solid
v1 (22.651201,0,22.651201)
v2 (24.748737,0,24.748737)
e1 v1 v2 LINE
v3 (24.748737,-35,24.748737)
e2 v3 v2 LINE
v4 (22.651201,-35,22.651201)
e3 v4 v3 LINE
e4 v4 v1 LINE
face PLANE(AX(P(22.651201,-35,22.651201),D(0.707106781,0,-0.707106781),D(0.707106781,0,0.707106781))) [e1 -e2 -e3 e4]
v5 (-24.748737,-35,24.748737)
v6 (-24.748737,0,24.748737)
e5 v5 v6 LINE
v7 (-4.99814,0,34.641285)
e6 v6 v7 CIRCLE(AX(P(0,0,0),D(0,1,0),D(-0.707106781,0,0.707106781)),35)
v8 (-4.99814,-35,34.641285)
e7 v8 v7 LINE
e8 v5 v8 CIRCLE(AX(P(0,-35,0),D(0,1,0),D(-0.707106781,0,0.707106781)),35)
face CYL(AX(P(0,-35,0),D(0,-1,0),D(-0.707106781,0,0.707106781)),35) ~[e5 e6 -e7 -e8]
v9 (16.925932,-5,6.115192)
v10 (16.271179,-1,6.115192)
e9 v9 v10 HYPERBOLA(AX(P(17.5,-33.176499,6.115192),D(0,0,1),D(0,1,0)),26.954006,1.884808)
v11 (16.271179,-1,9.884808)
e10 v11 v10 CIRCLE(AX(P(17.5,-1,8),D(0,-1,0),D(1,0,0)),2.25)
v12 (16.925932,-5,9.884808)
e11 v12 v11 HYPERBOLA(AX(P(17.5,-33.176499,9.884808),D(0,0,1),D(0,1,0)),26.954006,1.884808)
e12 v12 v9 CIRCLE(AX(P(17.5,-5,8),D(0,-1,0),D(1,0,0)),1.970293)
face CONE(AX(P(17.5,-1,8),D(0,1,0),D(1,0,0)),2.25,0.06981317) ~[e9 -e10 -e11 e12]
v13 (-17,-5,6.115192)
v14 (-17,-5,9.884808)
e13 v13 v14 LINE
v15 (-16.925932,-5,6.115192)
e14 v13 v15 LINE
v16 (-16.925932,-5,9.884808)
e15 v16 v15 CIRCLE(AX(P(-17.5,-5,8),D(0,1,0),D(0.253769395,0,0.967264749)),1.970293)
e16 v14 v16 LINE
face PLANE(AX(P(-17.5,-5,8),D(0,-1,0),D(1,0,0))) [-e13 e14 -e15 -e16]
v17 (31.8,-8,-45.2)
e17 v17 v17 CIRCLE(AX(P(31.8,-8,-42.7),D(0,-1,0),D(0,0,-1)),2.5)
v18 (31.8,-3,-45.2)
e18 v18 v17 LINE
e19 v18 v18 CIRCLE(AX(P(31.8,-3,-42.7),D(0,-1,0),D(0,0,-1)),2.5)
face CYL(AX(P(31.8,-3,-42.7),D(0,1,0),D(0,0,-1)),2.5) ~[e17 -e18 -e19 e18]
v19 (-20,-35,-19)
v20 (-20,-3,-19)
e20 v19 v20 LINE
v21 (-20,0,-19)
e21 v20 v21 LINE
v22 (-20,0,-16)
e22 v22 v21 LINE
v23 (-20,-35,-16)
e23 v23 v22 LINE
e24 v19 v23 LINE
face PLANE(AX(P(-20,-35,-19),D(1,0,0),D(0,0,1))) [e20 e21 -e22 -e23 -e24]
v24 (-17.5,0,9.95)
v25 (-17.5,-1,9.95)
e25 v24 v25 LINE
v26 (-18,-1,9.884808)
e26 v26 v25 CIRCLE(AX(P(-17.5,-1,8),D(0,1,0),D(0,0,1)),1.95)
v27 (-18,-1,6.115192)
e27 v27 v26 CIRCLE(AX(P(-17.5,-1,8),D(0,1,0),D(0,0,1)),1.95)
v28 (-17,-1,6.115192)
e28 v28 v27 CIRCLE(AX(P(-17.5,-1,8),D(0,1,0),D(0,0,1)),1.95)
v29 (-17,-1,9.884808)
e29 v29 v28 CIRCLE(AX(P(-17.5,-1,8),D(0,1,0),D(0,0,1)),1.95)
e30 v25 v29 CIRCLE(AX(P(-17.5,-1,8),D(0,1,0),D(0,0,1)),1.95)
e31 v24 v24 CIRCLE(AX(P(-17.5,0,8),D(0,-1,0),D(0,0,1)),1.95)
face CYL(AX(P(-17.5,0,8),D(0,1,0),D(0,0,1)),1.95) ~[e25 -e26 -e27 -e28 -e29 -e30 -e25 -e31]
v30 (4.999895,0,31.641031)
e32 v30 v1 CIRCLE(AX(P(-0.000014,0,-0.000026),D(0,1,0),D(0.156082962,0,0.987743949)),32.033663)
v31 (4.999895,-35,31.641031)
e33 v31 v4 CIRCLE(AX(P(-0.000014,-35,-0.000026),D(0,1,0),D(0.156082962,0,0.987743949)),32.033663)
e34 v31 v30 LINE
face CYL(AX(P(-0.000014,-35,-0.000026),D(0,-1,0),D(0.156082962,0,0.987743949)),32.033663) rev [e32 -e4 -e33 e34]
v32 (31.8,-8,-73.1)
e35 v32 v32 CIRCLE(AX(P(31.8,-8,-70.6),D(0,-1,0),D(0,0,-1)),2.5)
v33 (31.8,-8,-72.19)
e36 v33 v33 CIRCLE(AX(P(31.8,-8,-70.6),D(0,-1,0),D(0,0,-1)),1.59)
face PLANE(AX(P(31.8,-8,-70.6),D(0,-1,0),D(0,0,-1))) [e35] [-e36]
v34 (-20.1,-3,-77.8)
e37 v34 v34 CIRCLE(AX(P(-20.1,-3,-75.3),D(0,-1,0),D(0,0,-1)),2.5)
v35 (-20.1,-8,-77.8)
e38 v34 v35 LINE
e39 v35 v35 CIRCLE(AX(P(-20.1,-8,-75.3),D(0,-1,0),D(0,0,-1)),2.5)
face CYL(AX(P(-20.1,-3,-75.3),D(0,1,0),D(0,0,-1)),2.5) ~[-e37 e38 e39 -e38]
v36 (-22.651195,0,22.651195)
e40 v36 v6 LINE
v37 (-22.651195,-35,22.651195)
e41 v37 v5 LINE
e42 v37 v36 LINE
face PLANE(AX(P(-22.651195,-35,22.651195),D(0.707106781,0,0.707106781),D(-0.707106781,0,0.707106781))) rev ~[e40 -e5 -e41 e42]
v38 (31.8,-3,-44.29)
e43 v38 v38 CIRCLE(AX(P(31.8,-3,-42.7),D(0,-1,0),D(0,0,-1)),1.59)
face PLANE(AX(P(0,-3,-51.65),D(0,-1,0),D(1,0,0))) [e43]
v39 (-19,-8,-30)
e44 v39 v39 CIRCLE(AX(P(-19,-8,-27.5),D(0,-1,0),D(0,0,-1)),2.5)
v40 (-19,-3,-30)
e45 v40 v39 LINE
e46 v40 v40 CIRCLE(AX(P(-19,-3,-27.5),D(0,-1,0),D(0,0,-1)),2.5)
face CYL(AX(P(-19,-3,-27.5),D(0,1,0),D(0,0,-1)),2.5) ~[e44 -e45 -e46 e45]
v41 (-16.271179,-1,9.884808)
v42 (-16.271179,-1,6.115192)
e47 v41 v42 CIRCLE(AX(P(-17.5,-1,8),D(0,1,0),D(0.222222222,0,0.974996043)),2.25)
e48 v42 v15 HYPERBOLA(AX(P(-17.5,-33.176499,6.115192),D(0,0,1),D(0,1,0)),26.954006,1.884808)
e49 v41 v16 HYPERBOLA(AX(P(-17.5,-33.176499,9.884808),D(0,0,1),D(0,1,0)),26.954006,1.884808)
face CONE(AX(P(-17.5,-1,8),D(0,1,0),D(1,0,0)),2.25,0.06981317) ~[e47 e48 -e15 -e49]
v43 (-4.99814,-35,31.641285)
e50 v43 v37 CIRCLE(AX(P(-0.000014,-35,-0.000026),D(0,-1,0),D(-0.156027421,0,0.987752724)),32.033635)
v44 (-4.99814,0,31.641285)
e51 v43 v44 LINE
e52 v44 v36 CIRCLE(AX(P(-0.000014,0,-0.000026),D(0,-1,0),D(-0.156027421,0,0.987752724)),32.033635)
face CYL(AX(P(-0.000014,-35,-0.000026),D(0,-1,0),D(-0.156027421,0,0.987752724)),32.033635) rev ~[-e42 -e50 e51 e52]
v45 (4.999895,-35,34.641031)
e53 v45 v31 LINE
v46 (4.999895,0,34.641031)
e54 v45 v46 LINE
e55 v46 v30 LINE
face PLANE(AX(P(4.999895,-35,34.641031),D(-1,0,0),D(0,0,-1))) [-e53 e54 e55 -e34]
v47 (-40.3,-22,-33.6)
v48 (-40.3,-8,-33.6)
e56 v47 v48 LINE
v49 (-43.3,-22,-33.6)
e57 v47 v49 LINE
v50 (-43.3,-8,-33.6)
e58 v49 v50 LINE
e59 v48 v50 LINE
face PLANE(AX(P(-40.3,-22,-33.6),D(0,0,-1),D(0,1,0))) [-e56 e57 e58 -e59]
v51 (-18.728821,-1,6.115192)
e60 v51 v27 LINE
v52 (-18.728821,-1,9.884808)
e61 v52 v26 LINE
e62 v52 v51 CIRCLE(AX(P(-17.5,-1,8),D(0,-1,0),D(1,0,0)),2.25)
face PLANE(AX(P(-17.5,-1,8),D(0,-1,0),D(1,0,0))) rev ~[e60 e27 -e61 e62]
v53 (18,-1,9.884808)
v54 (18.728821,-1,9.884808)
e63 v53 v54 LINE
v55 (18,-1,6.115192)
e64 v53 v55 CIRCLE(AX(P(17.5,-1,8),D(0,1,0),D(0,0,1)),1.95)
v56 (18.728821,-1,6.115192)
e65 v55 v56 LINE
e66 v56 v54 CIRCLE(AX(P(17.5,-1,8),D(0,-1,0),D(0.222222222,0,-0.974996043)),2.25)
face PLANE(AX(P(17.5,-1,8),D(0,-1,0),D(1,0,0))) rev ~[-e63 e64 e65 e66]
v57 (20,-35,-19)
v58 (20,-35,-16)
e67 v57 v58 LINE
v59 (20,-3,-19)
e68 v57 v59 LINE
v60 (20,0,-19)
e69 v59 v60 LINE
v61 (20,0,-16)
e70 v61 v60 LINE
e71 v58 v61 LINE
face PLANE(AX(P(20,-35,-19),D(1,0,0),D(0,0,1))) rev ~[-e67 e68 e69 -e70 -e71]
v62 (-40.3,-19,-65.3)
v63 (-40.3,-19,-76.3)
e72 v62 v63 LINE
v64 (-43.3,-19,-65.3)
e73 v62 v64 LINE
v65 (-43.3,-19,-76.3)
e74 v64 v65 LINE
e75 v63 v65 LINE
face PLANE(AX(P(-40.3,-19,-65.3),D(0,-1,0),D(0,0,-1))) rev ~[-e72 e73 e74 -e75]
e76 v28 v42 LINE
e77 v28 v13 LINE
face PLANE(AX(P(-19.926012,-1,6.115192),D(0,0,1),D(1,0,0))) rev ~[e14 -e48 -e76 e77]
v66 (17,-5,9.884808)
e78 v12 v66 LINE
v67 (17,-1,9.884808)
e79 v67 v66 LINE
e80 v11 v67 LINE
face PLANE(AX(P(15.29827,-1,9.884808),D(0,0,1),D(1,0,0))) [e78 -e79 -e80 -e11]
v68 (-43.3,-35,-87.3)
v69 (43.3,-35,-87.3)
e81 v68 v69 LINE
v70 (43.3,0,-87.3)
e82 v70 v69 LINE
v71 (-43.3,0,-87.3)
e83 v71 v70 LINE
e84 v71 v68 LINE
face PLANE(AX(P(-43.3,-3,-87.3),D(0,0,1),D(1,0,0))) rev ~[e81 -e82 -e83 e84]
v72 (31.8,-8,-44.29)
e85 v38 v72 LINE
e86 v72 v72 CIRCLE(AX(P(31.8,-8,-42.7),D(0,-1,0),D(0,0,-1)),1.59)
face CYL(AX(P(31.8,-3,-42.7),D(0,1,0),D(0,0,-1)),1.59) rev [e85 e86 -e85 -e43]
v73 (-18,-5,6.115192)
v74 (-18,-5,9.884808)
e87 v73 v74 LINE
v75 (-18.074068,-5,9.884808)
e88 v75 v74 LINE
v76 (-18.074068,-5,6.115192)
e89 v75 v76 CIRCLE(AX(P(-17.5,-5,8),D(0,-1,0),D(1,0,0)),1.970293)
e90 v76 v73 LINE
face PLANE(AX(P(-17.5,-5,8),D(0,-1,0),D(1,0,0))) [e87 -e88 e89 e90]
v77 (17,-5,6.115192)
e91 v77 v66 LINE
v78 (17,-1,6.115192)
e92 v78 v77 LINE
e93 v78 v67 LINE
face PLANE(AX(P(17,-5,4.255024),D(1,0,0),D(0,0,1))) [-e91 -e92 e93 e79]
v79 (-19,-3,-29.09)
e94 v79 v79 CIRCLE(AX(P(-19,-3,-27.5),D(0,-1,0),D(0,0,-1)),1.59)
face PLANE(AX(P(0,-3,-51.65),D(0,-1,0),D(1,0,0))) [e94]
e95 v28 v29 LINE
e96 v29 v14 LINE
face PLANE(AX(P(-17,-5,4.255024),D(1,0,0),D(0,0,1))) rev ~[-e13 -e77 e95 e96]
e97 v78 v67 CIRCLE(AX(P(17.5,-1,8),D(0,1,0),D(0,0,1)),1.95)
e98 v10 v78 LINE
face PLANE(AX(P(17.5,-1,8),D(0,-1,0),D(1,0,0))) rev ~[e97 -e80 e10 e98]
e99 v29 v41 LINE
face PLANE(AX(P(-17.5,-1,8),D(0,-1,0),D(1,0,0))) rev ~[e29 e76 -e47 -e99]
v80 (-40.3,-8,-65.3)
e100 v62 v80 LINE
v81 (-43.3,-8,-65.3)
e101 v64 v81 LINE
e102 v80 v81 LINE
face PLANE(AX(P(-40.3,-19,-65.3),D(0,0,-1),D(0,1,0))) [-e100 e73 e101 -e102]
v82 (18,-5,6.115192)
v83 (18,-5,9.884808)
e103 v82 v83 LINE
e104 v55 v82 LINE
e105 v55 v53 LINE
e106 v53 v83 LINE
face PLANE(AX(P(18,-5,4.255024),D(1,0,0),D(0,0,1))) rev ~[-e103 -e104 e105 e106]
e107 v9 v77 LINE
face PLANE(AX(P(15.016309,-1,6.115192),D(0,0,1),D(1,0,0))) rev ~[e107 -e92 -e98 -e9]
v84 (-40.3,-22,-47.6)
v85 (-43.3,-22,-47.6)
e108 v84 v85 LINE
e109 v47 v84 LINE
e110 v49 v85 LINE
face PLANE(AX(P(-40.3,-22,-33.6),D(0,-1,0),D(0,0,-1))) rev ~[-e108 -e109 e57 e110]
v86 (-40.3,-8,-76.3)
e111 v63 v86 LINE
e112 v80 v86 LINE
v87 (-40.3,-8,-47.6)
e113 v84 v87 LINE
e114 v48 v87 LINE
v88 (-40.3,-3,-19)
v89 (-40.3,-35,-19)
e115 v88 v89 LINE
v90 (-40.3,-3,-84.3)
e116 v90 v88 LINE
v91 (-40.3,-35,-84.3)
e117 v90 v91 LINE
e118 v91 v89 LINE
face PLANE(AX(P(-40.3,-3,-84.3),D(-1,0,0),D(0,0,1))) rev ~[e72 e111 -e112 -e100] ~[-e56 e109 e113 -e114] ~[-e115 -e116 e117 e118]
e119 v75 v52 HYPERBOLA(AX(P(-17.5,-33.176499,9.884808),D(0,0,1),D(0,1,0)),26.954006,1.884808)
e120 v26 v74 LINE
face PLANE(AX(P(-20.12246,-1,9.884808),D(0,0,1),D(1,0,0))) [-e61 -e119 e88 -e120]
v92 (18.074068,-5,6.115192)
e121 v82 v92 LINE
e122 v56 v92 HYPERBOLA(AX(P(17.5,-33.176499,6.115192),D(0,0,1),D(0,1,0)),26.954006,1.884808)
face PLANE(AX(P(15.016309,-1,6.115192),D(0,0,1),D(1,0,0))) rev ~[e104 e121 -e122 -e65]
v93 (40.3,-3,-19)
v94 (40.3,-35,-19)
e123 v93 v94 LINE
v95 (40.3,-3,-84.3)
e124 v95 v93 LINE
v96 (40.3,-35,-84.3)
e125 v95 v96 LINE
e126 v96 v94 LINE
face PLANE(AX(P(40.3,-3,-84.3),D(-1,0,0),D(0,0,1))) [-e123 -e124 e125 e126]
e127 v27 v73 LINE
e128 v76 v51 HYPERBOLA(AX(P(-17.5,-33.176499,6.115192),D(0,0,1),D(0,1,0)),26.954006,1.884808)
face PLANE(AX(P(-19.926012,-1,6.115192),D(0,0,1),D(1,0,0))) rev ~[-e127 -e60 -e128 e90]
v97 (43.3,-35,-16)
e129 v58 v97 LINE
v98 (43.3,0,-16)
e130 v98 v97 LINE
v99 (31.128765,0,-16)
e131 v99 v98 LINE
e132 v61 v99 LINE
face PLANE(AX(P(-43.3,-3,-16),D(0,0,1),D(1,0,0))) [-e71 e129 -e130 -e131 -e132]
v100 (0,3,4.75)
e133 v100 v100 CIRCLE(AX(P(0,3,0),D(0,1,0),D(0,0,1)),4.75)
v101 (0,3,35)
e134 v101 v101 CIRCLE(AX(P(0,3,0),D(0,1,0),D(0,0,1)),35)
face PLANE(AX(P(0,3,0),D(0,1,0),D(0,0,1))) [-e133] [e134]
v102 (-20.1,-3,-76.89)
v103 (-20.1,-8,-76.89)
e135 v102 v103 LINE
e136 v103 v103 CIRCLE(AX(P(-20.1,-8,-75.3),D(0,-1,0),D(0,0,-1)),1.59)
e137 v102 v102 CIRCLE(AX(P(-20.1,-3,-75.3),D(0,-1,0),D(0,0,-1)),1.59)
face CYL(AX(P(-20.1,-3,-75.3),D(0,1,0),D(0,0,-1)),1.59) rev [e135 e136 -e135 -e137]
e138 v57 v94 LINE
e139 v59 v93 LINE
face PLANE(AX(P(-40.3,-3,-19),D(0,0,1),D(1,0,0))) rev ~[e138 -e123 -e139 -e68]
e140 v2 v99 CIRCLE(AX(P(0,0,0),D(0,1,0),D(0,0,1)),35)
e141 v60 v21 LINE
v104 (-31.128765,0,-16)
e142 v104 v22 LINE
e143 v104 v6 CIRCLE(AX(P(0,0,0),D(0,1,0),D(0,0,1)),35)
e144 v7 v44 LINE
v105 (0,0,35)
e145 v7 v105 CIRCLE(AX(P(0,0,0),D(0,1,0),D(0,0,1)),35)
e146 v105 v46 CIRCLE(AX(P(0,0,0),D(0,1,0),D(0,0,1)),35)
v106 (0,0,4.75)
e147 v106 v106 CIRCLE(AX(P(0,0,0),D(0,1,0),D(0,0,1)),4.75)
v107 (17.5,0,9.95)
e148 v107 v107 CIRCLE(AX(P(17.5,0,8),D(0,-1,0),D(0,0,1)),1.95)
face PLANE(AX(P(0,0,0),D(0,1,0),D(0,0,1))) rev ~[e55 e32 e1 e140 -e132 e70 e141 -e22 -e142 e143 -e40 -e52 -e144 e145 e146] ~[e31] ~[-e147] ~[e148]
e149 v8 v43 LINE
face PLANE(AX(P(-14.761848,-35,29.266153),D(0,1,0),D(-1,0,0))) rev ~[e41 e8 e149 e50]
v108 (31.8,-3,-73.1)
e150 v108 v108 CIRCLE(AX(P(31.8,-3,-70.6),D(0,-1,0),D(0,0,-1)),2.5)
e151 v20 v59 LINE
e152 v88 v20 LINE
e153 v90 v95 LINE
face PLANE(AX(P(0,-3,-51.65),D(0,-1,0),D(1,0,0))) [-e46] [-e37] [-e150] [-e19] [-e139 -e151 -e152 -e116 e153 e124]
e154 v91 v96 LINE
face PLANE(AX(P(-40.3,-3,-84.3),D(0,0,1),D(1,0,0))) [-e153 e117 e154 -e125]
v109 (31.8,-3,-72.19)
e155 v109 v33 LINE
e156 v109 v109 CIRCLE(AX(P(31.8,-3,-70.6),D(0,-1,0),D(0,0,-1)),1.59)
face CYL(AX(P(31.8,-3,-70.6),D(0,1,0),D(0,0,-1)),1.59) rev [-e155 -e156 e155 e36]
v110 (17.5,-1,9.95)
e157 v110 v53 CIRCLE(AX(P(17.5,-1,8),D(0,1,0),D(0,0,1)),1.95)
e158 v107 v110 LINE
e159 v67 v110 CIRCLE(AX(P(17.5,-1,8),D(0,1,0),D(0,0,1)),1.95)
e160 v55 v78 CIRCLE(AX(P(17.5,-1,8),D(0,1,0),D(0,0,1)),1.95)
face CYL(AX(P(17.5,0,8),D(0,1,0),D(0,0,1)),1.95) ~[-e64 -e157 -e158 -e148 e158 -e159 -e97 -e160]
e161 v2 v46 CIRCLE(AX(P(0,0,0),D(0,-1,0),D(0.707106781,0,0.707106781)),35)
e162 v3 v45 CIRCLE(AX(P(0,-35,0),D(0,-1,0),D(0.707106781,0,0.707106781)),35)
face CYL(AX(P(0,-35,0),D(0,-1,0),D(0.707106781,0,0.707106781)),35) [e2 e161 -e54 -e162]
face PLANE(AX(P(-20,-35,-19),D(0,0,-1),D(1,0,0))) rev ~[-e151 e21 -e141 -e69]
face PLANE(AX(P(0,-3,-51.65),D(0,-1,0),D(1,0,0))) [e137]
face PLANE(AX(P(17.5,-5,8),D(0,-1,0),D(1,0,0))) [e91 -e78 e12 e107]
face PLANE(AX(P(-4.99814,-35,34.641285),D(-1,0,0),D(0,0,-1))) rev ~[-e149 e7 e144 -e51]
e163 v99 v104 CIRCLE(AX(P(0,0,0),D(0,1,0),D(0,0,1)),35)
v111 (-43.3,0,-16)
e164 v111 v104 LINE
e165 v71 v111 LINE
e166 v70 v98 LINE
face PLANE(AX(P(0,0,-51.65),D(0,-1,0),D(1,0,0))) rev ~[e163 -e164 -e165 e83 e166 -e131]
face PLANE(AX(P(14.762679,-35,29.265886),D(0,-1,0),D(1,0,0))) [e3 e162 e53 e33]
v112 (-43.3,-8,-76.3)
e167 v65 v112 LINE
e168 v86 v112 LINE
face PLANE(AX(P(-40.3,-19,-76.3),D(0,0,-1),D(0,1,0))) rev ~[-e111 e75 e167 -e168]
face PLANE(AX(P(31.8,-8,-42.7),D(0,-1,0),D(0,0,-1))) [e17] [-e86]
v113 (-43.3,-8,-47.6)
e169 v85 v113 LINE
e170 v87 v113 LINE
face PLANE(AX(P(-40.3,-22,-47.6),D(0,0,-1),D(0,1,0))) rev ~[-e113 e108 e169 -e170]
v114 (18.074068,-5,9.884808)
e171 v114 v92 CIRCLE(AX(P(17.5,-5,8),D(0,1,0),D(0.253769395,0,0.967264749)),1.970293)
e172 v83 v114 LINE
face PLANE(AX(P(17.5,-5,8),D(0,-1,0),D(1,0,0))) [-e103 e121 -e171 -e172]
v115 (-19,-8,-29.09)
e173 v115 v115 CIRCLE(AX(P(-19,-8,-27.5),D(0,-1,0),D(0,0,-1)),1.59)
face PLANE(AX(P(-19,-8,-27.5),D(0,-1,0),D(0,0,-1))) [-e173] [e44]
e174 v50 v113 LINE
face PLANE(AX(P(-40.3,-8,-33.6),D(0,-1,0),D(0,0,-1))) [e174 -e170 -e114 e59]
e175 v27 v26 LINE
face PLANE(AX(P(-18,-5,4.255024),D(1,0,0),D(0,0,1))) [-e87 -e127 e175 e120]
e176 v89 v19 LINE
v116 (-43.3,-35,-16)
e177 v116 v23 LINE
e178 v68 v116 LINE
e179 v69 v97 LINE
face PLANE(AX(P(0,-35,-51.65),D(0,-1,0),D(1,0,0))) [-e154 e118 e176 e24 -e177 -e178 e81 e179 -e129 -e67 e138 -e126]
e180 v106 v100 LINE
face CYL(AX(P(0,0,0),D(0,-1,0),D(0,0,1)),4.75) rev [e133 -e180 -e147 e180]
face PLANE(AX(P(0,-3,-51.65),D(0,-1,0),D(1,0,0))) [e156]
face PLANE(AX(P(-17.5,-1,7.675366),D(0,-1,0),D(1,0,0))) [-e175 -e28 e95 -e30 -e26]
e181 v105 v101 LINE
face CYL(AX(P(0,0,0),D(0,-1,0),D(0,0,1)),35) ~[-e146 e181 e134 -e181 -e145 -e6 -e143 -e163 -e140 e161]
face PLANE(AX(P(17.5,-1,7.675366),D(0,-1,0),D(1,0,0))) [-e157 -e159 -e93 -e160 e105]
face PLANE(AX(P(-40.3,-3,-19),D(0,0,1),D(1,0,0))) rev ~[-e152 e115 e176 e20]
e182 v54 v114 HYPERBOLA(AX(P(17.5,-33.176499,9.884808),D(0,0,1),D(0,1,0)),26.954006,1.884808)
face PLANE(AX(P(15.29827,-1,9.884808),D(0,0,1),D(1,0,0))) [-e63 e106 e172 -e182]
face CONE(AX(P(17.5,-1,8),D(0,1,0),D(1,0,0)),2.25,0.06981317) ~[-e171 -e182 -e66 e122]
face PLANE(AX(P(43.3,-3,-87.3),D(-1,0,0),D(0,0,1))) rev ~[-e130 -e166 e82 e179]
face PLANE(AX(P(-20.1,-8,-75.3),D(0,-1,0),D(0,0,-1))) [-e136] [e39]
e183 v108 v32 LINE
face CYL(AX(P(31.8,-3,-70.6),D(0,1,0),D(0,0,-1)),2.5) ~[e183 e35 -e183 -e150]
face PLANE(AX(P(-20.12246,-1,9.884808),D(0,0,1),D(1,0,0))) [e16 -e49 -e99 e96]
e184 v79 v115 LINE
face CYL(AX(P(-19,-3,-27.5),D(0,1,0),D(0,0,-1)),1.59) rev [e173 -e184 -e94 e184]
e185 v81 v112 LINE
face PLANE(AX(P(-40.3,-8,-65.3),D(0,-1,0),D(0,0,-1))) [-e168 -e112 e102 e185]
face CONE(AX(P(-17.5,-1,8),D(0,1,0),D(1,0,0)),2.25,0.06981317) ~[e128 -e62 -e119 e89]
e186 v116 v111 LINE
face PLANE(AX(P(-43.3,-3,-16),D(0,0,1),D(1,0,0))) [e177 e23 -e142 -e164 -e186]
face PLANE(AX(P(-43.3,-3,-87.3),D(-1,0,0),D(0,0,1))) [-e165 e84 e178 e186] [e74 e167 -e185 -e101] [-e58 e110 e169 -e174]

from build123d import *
from build123d.topology import SkipClean

# Parameters (mm, degrees)
CROQUIS1_R                        = 35
CROQUIS1_R_2                      = 4.75
SALIENTE_EXTRUIR1_DEPTH           = 3
CROQUIS2_R                        = 1.95
SALIENTE_EXTRUIR2_DEPTH           = 5
SALIENTE_EXTRUIR3_START           = 1
CROQUIS5_R                        = 2.25
SALIENTE_EXTRUIR3_DEPTH           = 4
SALIENTE_EXTRUIR3_DRAFT           = 4
SALIENTE_EXTRUIR3_PROFILE_2_DEPTH = 4
SALIENTE_EXTRUIR3_PROFILE_2_DRAFT = 4
CROQUIS3_W                        = 1
CROQUIS3_H                        = 6.840682912
CORTAR_EXTRUIR1_DEPTH             = 4
CROQUIS6_W                        = 5.727241663
CROQUIS6_H                        = 1.622786798
CROQUIS6_W_2                      = 5.017003251
CROQUIS6_H_2                      = 0.546869116
CROQUIS6_W_3                      = 4.668475527
CROQUIS6_H_3                      = 1.179349449
CROQUIS6_W_4                      = 4.588943699
CROQUIS6_H_4                      = 1.521824685
CORTAR_EXTRUIR2_DEPTH             = 4
SALIENTE_EXTRUIR4_START           = 35
SALIENTE_EXTRUIR4_DEPTH           = 35
CROQUIS9_W                        = 86.6
CROQUIS9_H                        = 71.3
SALIENTE_EXTRUIR5_DEPTH           = 3
CROQUIS10_W                       = 86.6
CROQUIS10_H                       = 71.3
CROQUIS10_W_2                     = 80.6
CROQUIS10_H_2                     = 65.3
SALIENTE_EXTRUIR6_DEPTH           = 32
CORTAR_EXTRUIR3_REACH             = 106.595
CROQUIS11_W                       = 40
CROQUIS11_H                       = 3
CROQUIS12_R                       = 2.5
CROQUIS12_R_2                     = 1.59
SALIENTE_EXTRUIR7_DEPTH           = 5
CROQUIS13_W                       = 14
CROQUIS13_H                       = 14
CROQUIS13_W_2                     = 11
CROQUIS13_H_2                     = 11
CORTAR_EXTRUIR4_DEPTH             = 3


with BuildPart() as part:
    # Croquis1 → Saliente-Extruir1 (new body)
    with BuildSketch(Plane(origin=(0, 0, 0), x_dir=(1, 0, 0), z_dir=(0, 1, 0))):
        with Locations(Location((0, 0, 0), (0, 0, 270))):
            Circle(CROQUIS1_R)
        with Locations(Location((0, 0, 0), (0, 0, 270))):
            Circle(CROQUIS1_R_2, mode=Mode.SUBTRACT)
    extrude(amount=SALIENTE_EXTRUIR1_DEPTH)

    # Croquis2 → Saliente-Extruir2 (add)
    with BuildSketch(Plane.XZ):
        with Locations(Location((-17.5, 8, 0), (0, 0, 90))):
            Circle(CROQUIS2_R)
        with Locations(Location((17.5, 8, 0), (0, 0, 90))):
            Circle(CROQUIS2_R)
    extrude(amount=SALIENTE_EXTRUIR2_DEPTH)


with BuildPart() as saliente_extruir3_tool:
    # Croquis5 → Saliente-Extruir3 (with draft: the straight prism first)
    with BuildSketch(Plane.XZ.offset(SALIENTE_EXTRUIR3_START)):
        with Locations((-17.5, 8)):
            Circle(CROQUIS5_R)
    extrude(amount=SALIENTE_EXTRUIR3_DEPTH)
    # Saliente-Extruir3: the draft: its side faces are tilted about the plane it starts from
    saliente_extruir3_sides = [saliente_extruir3_tool.faces().sort_by_distance(p)[0] for p in [
        (-19.75, -3, 8),
    ]]
    draft(saliente_extruir3_sides, Plane.XZ.offset(SALIENTE_EXTRUIR3_START), SALIENTE_EXTRUIR3_DRAFT)


with BuildPart() as part_1:
    add(part.part)

    # Saliente-Extruir3: add saliente_extruir3_tool
    add(saliente_extruir3_tool.part)


with BuildPart() as saliente_extruir3_profile_2_tool:
    # Croquis5 → Saliente-Extruir3 profile 2 (with draft: the straight prism first)
    with BuildSketch(Plane.XZ.offset(SALIENTE_EXTRUIR3_START)):
        with Locations((17.5, 8)):
            Circle(CROQUIS5_R)
    extrude(amount=SALIENTE_EXTRUIR3_PROFILE_2_DEPTH)
    # Saliente-Extruir3 profile 2: the draft: its side faces are tilted about the plane it starts from
    saliente_extruir3_profile_2_sides = [saliente_extruir3_profile_2_tool.faces().sort_by_distance(p)[0] for p in [
        (15.25, -3, 8),
    ]]
    draft(saliente_extruir3_profile_2_sides, Plane.XZ.offset(SALIENTE_EXTRUIR3_START), SALIENTE_EXTRUIR3_PROFILE_2_DRAFT)


with BuildPart() as part_2:
    add(part_1.part)

    # Saliente-Extruir3 profile 2: add saliente_extruir3_profile_2_tool
    add(saliente_extruir3_profile_2_tool.part)

    # Croquis3 → Cortar-Extruir1 (cut)
    with BuildSketch(Plane.XZ.offset(5)):
        with Locations((-17.5, 7.675365729)):
            Rectangle(CROQUIS3_W, CROQUIS3_H)
        with Locations((17.5, 7.675365729)):
            Rectangle(CROQUIS3_W, CROQUIS3_H)
    extrude(amount=-CORTAR_EXTRUIR1_DEPTH, mode=Mode.SUBTRACT)

    # Croquis6 → Cortar-Extruir2 (cut)
    with BuildSketch(Plane.XZ.offset(1)):
        with Locations((-17.258839661, 10.696201081)):
            Rectangle(CROQUIS6_W, CROQUIS6_H)
        with Locations((-17.417509945, 5.84175776)):
            Rectangle(CROQUIS6_W_2, CROQUIS6_H_2)
        with Locations((17.632507556, 10.474482406)):
            Rectangle(CROQUIS6_W_3, CROQUIS6_H_3)
        with Locations((17.310781188, 5.354279976)):
            Rectangle(CROQUIS6_W_4, CROQUIS6_H_4)
    extrude(amount=CORTAR_EXTRUIR2_DEPTH, mode=Mode.SUBTRACT)

    # Croquis7 → Saliente-Extruir4 (add)
    with SkipClean():  # the faces are left unmerged after this step: merging them gives an invalid solid
        with BuildSketch(Plane.XZ.offset(SALIENTE_EXTRUIR4_START)):
            with BuildLine():
                Line((-22.651194874, 22.651194874), (-24.748737342, 24.748737342))
                ThreePointArc((-24.748737342, 24.748737342), (-15.674335611, 31.294012257), (-4.998139738, 34.641284606))
                Line((-4.998139738, 34.641284606), (-4.998139738, 31.641284606))
                ThreePointArc((-4.998139738, 31.641284606), (-14.537086186, 28.545154562), (-22.651194874, 22.651194874))
            make_face()
            with BuildLine():
                Line((22.651200534, 22.651200534), (24.748737342, 24.748737342))
                ThreePointArc((24.748737342, 24.748737342), (15.675128347, 31.293615184), (4.999894801, 34.641031335))
                Line((4.999894801, 34.641031335), (4.999894801, 31.641031335))
                ThreePointArc((4.999894801, 31.641031335), (14.537881979, 28.544766366), (22.651200534, 22.651200534))
            make_face()
        extrude(amount=-SALIENTE_EXTRUIR4_DEPTH)

    # Croquis9 → Saliente-Extruir5 (add)
    with SkipClean():  # the faces are left unmerged after this step: merging them gives an invalid solid
        with BuildSketch(Plane.XZ):
            with Locations((0, -51.65)):
                Rectangle(CROQUIS9_W, CROQUIS9_H)
        extrude(amount=SALIENTE_EXTRUIR5_DEPTH)

    # Croquis10 → Saliente-Extruir6 (add)
    with SkipClean():  # the faces are left unmerged after this step: merging them gives an invalid solid
        with BuildSketch(Plane.XZ.offset(3)):
            with Locations((0, -51.65)):
                Rectangle(CROQUIS10_W, CROQUIS10_H)
            with Locations((0, -51.65)):
                Rectangle(CROQUIS10_W_2, CROQUIS10_H_2, mode=Mode.SUBTRACT)
        extrude(amount=SALIENTE_EXTRUIR6_DEPTH)

    # Cortar-Extruir3: up to this face of the body (flat: up to its plane)
    cortar_extruir3_end = Plane(part_2.part.faces().sort_by_distance((1.0887e-05, 0, 5.820345138))[0])
    # Croquis11 → Cortar-Extruir3 (cut, up to the picked face)
    with BuildSketch(Plane.XZ.offset(35), mode=Mode.PRIVATE) as cortar_extruir3_sk1:
        with Locations((0, -17.5)):
            Rectangle(CROQUIS11_W, CROQUIS11_H)
    cortar_extruir3_tool1 = split(extrude(cortar_extruir3_sk1.sketch, amount=-CORTAR_EXTRUIR3_REACH, mode=Mode.PRIVATE), bisect_by=cortar_extruir3_end, keep=Keep.BOTH, mode=Mode.PRIVATE)
    add(cortar_extruir3_tool1.solids().sort_by(Axis((0, -35, -17.5), (0, 1, 0)))[0], mode=Mode.SUBTRACT)

    # Croquis12 → Saliente-Extruir7 (add)
    # profile 1 of 4: a face of its own
    with SkipClean():  # the faces are left unmerged after this step: merging them gives an invalid solid
        with BuildSketch(Plane.XZ.offset(3)):
            with Locations(Location((31.8, -42.7, 0), (0, 0, 270))):
                Circle(CROQUIS12_R)
            with Locations(Location((31.8, -42.7, 0), (0, 0, 270))):
                Circle(CROQUIS12_R_2, mode=Mode.SUBTRACT)
        # profile 2 of 4: a face of its own
        with BuildSketch(Plane.XZ.offset(3)):
            with Locations(Location((31.8, -70.6, 0), (0, 0, 270))):
                Circle(CROQUIS12_R)
            with Locations(Location((31.8, -70.6, 0), (0, 0, 270))):
                Circle(CROQUIS12_R_2, mode=Mode.SUBTRACT)
        # profile 3 of 4: a face of its own
        with BuildSketch(Plane.XZ.offset(3)):
            with Locations(Location((-19, -27.5, 0), (0, 0, 270))):
                Circle(CROQUIS12_R)
            with Locations(Location((-19, -27.5, 0), (0, 0, 270))):
                Circle(CROQUIS12_R_2, mode=Mode.SUBTRACT)
        # profile 4 of 4: a face of its own
        with BuildSketch(Plane.XZ.offset(3)):
            with Locations(Location((-20.1, -75.3, 0), (0, 0, 270))):
                Circle(CROQUIS12_R)
            with Locations(Location((-20.1, -75.3, 0), (0, 0, 270))):
                Circle(CROQUIS12_R_2, mode=Mode.SUBTRACT)
        extrude(amount=SALIENTE_EXTRUIR7_DEPTH)

    # Croquis13 → Cortar-Extruir4 (cut)
    with SkipClean():  # the faces are left unmerged after this step: merging them gives an invalid solid
        with BuildSketch(Plane(origin=(-40.3, 0, 0), x_dir=(0, 0, -1), z_dir=(1, 0, 0))):
            with Locations((40.6, -15)):
                Rectangle(CROQUIS13_W, CROQUIS13_H)
            with Locations((70.8, -13.5)):
                Rectangle(CROQUIS13_W_2, CROQUIS13_H_2)
        extrude(amount=-CORTAR_EXTRUIR4_DEPTH, mode=Mode.SUBTRACT)


solid = part_2.part
